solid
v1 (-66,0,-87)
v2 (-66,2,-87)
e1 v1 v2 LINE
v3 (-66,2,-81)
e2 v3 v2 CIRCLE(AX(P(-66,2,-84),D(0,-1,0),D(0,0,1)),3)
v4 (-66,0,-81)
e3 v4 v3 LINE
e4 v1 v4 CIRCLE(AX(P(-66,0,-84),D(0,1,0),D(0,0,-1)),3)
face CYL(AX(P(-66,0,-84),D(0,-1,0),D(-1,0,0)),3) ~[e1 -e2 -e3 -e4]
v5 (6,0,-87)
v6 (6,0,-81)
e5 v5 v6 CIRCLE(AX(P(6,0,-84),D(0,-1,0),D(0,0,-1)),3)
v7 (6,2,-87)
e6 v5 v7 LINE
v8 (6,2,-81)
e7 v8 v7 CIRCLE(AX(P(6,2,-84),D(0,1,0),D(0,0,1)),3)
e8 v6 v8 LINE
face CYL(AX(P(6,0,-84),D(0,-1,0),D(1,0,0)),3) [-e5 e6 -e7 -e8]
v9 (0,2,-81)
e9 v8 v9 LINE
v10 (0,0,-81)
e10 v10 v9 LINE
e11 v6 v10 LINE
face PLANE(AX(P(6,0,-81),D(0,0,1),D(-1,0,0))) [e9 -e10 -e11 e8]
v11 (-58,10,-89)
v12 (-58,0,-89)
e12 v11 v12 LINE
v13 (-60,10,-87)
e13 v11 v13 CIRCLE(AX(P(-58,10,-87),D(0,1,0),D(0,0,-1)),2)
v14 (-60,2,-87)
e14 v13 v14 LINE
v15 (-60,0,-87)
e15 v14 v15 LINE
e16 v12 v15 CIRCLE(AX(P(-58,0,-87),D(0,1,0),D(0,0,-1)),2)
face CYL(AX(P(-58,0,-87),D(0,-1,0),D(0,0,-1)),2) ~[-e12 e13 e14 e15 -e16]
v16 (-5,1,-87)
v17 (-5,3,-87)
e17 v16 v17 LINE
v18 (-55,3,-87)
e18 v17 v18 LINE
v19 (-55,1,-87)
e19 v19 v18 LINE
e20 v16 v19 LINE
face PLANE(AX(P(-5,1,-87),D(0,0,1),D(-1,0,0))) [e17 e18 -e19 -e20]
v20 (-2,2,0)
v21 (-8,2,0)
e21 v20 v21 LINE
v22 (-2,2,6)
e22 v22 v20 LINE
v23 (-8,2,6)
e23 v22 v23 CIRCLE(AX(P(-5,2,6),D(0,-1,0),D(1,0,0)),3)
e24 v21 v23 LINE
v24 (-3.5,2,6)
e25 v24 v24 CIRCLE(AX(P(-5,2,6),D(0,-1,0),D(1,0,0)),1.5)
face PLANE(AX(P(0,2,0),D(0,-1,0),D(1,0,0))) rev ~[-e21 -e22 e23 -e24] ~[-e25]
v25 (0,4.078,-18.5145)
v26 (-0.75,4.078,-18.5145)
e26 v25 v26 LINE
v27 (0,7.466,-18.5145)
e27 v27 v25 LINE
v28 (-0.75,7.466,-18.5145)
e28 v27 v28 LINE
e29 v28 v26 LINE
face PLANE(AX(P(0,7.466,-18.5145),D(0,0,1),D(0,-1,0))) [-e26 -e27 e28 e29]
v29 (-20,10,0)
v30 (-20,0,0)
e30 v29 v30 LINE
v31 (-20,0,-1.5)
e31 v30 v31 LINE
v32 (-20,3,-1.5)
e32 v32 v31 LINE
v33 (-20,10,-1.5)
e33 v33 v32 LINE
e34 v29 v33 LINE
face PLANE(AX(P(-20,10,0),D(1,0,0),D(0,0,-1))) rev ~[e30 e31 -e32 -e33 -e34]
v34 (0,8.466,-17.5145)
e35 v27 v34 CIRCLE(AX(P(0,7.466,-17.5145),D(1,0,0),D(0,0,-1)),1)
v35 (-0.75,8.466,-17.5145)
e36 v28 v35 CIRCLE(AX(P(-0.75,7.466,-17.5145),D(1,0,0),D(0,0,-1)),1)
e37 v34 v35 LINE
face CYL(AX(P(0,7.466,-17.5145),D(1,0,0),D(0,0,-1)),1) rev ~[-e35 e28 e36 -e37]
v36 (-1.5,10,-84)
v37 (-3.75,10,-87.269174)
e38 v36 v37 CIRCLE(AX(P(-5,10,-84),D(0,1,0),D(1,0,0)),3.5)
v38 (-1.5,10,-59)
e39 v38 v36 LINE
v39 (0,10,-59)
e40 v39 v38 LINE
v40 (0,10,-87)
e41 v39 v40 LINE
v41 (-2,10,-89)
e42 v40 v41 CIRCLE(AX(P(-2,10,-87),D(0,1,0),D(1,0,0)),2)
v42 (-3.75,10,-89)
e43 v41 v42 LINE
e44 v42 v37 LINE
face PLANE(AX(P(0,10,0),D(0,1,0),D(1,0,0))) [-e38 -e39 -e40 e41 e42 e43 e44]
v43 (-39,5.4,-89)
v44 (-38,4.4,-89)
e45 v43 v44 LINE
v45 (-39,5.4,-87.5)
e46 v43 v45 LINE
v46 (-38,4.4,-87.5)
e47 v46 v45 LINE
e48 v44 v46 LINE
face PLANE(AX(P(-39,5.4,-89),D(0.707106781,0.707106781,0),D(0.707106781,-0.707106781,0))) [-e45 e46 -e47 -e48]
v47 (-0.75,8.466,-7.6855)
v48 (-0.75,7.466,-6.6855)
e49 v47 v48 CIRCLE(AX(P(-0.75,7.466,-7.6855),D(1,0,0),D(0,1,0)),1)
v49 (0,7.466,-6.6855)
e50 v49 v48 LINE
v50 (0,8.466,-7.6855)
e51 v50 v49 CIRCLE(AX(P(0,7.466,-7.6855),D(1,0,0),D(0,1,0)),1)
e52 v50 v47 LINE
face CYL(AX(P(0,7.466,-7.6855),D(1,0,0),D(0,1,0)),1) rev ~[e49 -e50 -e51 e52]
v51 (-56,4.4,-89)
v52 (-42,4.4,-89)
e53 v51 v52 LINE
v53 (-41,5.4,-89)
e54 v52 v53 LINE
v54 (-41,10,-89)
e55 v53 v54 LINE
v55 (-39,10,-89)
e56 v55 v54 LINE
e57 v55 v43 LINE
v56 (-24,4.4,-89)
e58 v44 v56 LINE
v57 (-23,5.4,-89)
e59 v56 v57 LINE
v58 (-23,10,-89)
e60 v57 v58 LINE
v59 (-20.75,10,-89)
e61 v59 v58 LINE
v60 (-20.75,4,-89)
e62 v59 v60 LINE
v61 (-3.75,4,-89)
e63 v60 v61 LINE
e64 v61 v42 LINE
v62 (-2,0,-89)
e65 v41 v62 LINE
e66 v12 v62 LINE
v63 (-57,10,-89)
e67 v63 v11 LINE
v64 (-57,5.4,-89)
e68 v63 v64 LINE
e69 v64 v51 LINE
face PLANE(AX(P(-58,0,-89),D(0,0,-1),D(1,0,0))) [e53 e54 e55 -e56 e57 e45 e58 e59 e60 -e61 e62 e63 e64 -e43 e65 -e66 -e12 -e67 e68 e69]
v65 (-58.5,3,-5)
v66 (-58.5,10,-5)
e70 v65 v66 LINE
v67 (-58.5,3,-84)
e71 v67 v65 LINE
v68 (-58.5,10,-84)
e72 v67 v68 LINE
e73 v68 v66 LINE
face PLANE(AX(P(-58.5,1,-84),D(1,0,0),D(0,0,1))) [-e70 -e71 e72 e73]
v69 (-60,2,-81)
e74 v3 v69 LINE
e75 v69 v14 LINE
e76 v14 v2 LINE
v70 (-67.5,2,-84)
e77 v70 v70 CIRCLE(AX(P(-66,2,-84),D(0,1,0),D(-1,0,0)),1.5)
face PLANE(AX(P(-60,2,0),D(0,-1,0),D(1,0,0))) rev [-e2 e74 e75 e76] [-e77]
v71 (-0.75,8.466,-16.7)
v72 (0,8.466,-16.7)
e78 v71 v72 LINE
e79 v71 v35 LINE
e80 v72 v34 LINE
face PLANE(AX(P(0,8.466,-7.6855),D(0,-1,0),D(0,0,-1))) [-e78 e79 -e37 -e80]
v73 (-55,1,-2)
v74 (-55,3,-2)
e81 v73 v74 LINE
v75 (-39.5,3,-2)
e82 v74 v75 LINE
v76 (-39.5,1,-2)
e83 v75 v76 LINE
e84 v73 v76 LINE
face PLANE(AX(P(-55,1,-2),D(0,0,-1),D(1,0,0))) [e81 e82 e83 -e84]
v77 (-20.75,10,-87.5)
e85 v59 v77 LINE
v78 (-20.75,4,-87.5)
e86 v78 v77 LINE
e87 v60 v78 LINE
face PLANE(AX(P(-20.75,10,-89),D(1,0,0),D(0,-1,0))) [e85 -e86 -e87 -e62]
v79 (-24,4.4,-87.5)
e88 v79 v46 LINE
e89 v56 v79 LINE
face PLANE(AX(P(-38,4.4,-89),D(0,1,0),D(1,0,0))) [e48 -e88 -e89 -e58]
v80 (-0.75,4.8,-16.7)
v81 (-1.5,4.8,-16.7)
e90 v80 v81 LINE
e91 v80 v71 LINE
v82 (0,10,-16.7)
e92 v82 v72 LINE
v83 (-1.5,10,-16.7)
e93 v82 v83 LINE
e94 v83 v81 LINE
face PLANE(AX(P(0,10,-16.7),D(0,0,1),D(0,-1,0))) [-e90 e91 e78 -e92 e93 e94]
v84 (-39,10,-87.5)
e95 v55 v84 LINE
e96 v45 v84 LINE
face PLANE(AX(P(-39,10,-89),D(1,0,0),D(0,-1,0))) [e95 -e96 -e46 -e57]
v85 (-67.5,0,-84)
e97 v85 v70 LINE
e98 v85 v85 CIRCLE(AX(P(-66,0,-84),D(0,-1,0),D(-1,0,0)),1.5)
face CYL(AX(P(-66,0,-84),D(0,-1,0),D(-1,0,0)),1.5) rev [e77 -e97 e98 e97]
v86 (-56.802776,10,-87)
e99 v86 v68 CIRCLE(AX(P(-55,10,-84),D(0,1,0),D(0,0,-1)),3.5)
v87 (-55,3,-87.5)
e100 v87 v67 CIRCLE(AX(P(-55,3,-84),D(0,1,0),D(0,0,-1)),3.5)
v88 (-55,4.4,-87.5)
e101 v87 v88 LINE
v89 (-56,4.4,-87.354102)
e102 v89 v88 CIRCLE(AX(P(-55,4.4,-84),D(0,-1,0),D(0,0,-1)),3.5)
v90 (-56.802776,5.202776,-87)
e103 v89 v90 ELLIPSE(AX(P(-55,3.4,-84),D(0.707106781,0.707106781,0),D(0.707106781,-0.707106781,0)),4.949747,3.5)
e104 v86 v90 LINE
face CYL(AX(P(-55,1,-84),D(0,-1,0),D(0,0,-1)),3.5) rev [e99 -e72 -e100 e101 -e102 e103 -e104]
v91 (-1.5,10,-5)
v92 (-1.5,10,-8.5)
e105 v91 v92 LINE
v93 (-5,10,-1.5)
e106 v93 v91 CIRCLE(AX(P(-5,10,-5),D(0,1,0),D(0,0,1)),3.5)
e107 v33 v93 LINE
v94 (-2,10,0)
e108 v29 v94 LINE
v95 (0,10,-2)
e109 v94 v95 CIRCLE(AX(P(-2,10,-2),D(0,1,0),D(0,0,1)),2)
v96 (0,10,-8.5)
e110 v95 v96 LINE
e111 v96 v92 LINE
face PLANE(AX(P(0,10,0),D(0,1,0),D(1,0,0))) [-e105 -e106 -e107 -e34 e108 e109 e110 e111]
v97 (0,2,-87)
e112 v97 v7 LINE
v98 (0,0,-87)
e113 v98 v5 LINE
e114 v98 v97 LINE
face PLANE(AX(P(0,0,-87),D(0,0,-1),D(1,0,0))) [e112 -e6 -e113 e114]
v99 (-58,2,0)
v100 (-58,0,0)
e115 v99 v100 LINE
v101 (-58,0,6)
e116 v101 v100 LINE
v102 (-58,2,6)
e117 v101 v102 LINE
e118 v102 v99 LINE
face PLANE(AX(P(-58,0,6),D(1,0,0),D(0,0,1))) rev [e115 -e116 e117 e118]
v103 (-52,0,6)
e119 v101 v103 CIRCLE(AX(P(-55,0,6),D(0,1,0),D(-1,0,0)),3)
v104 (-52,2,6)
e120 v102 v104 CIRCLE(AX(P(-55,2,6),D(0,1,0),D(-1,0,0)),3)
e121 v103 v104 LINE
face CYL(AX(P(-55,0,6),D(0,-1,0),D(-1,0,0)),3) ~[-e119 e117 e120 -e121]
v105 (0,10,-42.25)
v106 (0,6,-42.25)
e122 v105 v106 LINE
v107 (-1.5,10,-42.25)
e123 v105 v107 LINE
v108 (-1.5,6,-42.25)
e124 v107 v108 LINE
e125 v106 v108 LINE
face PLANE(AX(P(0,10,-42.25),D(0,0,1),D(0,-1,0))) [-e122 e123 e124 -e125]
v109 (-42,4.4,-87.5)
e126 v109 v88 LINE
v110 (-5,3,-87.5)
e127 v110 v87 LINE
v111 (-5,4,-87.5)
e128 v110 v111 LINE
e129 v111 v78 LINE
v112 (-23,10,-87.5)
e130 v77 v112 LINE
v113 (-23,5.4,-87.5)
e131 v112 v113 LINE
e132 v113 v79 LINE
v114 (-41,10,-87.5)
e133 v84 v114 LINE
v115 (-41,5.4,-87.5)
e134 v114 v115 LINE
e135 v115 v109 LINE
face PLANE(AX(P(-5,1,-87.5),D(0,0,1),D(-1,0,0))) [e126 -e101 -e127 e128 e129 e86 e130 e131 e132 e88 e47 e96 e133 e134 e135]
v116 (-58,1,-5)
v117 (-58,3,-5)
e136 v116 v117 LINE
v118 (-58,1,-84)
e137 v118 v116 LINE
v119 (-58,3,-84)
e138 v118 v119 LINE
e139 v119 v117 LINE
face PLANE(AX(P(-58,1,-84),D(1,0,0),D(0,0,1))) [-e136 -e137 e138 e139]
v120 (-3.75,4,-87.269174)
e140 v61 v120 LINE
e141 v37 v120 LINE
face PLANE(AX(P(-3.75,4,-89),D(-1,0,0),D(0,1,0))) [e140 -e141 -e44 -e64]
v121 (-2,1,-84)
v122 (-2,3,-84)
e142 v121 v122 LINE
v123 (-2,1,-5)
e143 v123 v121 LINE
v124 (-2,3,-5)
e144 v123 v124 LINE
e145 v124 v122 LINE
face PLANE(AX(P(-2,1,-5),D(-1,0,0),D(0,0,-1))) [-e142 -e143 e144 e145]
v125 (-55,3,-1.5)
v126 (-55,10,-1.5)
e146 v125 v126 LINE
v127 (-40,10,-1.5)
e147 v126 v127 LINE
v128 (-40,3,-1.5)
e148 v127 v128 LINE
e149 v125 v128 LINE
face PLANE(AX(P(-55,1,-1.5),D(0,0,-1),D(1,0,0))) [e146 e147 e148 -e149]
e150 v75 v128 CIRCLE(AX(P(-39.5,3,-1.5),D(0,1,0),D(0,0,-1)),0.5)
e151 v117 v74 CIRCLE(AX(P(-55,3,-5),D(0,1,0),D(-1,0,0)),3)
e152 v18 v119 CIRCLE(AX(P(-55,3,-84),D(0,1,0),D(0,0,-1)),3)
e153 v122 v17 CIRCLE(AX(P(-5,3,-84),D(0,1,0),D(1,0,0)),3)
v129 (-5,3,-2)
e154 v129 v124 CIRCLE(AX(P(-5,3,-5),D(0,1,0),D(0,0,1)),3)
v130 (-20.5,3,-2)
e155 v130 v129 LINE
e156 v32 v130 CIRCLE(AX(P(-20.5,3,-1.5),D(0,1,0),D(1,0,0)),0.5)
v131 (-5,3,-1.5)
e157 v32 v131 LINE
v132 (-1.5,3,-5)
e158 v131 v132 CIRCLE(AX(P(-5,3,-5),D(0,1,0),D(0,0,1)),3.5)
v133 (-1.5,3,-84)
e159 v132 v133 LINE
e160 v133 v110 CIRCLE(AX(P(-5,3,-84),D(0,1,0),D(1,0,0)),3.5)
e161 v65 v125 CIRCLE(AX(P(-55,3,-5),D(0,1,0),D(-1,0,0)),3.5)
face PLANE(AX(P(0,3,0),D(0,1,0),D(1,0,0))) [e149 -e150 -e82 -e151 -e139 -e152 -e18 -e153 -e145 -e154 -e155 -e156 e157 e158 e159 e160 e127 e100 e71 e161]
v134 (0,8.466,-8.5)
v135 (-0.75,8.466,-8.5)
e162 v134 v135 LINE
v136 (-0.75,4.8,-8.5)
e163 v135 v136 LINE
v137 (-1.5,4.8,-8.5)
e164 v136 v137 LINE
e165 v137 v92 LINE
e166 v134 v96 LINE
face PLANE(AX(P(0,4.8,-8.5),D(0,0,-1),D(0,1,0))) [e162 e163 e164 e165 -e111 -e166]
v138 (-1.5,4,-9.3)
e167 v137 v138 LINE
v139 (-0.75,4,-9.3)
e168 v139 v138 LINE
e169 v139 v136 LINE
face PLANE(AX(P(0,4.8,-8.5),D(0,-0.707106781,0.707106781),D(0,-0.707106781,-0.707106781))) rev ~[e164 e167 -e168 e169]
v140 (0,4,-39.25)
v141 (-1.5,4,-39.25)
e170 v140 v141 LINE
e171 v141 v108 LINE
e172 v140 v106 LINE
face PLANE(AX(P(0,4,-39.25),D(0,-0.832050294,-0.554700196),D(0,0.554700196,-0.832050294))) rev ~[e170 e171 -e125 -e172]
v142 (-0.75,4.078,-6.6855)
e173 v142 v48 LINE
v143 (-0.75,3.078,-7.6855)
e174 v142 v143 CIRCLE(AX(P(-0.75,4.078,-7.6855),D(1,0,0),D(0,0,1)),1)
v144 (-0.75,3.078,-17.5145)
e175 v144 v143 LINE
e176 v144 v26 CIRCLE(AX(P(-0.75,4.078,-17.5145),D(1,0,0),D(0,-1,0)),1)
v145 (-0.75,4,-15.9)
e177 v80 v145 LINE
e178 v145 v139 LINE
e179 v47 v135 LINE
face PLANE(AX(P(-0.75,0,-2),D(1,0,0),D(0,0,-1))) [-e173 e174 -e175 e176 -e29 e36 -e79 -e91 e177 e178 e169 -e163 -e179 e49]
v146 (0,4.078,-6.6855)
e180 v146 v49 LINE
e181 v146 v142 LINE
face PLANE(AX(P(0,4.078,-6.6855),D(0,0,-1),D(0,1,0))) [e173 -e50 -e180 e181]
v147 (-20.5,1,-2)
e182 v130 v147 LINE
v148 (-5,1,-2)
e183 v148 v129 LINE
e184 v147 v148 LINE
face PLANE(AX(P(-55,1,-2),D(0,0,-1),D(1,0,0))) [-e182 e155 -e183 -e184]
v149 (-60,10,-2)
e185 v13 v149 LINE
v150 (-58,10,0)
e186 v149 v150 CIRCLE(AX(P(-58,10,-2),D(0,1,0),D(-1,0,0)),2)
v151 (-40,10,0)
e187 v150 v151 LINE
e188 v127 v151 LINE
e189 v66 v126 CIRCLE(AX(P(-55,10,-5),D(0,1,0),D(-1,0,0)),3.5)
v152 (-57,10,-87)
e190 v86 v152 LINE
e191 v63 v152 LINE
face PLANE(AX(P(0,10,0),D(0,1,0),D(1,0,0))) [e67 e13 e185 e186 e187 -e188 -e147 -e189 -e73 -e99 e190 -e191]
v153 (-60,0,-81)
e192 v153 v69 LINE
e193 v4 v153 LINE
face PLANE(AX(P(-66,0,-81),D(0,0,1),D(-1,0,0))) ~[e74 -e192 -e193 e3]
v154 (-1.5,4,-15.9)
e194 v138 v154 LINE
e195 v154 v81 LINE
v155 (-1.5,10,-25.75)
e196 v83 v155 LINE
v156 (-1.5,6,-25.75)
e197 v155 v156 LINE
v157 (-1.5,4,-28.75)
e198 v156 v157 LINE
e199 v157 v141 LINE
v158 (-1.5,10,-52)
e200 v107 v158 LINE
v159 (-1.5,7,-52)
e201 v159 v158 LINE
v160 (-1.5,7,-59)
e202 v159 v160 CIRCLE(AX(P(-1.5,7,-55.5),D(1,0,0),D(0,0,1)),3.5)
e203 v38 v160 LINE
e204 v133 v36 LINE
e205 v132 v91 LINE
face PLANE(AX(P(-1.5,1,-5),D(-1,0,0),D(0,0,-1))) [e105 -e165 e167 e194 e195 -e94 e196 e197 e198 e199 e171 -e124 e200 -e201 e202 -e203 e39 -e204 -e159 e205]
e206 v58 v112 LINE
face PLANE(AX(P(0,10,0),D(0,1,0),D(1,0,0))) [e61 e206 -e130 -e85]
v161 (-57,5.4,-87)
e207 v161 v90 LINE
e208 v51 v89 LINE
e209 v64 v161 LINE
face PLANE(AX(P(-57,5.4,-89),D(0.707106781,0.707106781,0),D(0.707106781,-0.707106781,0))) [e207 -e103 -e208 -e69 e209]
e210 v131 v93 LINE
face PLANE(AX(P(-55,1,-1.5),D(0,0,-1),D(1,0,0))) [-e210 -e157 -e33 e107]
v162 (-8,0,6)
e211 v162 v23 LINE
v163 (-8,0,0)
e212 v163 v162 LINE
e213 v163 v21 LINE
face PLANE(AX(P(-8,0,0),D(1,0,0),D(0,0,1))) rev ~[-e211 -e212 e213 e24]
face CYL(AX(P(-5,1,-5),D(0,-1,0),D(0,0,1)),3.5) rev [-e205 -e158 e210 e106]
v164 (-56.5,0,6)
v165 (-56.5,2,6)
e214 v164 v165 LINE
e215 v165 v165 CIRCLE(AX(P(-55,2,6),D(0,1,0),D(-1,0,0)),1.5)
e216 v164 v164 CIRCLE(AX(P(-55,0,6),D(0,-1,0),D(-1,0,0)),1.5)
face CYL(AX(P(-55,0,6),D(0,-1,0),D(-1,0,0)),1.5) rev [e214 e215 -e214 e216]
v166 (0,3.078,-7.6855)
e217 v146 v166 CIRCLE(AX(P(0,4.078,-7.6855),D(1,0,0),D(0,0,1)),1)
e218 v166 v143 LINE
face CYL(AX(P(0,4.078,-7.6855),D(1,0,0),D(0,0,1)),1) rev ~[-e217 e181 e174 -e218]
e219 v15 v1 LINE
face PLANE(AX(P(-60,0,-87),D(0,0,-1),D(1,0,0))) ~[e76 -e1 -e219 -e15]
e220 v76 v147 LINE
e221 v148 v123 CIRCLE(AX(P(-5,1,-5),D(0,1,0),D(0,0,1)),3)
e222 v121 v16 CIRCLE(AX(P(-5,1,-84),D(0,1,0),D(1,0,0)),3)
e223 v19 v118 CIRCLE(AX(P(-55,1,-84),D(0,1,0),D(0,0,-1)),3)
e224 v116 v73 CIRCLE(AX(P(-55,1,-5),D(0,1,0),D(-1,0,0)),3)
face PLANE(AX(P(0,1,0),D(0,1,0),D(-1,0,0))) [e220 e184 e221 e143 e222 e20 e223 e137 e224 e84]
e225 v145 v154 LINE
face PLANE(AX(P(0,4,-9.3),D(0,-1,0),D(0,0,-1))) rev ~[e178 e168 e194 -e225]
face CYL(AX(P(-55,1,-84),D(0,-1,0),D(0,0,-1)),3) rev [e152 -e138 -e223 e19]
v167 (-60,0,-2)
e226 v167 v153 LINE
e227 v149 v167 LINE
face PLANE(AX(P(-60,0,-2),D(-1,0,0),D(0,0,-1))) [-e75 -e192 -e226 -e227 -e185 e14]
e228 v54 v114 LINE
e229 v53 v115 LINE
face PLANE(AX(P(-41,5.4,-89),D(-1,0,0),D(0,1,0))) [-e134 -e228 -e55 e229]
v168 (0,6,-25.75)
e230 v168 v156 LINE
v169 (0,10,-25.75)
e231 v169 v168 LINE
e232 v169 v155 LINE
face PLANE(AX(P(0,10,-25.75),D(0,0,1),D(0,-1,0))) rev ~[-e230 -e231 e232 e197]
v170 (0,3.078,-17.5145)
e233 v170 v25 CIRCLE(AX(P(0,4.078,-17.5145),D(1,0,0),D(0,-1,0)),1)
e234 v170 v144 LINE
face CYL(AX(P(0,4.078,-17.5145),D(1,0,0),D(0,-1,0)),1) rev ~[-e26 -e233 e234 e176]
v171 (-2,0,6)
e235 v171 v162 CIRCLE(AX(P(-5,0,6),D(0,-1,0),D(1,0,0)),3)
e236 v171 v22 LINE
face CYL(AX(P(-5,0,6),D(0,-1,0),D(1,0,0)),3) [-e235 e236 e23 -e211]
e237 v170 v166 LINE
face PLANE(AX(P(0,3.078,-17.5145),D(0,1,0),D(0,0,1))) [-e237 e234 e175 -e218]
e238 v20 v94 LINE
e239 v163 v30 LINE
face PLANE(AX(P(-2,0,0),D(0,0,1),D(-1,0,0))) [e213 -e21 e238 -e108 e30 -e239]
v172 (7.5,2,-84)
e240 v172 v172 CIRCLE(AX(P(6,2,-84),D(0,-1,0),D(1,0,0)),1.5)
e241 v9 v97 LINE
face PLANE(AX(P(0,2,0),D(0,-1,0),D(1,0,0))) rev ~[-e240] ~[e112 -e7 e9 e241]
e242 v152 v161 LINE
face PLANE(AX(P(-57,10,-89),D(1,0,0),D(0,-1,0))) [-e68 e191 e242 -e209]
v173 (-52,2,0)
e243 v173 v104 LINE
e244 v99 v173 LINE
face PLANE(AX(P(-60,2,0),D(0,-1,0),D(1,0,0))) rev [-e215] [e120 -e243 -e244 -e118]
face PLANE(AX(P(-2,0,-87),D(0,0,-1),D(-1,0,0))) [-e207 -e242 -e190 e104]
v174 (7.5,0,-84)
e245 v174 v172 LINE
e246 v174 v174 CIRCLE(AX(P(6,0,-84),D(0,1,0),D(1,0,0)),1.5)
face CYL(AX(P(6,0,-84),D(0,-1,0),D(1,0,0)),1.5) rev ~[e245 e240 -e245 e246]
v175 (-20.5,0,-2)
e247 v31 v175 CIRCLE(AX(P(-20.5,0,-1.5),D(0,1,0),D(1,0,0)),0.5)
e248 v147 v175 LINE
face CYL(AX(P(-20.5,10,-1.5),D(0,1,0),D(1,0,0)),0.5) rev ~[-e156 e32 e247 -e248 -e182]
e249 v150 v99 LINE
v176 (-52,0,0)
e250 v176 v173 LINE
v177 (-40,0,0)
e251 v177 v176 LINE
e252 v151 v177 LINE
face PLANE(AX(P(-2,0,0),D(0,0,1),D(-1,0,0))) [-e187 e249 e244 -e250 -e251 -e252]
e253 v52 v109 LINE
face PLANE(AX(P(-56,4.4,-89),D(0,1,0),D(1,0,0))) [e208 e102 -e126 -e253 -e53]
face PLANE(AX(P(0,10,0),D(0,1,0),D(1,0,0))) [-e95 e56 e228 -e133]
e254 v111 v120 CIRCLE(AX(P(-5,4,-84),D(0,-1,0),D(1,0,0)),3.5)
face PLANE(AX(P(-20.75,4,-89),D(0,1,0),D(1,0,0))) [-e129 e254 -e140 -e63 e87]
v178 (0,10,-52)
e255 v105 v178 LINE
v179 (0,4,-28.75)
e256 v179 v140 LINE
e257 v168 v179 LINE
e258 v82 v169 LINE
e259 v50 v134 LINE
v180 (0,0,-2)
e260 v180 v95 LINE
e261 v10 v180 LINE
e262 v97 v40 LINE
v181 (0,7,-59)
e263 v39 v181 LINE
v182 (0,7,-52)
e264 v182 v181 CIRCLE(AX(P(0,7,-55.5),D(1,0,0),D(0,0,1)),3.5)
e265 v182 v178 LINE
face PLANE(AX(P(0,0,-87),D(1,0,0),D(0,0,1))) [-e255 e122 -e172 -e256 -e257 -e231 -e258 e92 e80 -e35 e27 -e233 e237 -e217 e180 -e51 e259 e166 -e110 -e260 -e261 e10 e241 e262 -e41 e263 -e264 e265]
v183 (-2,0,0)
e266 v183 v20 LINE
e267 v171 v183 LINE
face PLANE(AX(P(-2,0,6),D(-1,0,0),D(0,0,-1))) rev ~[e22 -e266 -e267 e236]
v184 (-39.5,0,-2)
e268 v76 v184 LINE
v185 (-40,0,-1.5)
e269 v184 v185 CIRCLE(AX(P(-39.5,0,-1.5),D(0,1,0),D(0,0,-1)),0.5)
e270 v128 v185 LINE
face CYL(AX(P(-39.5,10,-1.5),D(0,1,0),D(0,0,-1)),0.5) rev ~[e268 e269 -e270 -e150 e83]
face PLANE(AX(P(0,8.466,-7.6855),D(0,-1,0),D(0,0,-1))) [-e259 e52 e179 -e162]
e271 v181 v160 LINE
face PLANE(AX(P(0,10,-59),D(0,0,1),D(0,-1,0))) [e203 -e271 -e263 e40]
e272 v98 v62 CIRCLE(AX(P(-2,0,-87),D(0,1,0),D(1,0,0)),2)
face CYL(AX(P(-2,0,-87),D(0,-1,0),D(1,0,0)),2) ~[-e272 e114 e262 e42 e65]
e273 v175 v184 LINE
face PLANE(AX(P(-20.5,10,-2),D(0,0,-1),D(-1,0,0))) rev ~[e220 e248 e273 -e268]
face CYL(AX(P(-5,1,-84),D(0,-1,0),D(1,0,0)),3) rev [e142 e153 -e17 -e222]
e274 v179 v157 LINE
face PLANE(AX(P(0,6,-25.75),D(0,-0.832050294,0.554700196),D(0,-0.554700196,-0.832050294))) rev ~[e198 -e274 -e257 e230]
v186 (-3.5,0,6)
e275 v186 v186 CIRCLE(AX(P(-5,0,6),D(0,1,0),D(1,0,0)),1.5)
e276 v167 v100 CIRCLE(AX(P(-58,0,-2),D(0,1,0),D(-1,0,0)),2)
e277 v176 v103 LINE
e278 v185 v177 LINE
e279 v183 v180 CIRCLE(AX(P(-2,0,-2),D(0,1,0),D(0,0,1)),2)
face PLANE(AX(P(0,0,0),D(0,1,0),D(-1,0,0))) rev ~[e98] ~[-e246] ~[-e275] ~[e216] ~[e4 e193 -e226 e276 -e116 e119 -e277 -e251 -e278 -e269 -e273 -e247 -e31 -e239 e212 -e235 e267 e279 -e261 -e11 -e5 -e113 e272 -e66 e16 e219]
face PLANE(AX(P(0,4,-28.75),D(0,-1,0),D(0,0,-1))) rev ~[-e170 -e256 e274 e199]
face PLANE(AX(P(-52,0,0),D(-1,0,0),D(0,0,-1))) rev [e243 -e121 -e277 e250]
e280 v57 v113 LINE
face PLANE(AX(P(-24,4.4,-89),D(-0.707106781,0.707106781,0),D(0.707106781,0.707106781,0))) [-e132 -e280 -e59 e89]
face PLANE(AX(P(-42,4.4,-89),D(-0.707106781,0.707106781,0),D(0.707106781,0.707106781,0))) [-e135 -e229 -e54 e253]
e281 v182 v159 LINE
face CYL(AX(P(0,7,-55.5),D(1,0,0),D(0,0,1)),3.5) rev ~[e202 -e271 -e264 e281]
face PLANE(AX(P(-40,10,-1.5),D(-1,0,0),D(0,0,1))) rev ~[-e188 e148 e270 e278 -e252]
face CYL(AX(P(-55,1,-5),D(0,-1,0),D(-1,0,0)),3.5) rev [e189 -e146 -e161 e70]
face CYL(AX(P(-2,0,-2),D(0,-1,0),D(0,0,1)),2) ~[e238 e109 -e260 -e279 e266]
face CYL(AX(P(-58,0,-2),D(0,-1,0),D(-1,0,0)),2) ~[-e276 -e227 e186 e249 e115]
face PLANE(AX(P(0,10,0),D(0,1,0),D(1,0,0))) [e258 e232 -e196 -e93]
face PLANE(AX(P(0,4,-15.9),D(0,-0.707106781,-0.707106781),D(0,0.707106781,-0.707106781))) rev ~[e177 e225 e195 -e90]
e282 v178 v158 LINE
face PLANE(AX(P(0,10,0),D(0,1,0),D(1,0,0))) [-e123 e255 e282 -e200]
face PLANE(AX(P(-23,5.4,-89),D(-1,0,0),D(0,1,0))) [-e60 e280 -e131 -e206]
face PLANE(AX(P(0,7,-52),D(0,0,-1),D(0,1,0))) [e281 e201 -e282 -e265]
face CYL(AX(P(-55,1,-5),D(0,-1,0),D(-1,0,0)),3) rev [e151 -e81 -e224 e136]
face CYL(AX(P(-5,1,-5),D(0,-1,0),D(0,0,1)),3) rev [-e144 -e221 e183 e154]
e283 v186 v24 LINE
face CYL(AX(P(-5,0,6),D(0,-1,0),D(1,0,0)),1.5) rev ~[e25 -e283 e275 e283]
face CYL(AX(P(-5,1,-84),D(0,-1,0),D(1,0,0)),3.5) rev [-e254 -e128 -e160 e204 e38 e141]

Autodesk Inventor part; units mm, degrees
ref_plane "YZ Plane" through (0, 0, 0) normal (1, 0, 0) x (0, 1, 0)
ref_plane "XZ Plane" through (0, 0, 0) normal (0, 1, 0) x (-1, 0, 0)
sketch "Sketch1" plane through (0, 0, 0) normal (0, 1, 0) x (-1, 0, 0)
  line L0 (2, 0) -> (58, 0)
  line L1 (60, -2) -> (60, -87)
  line L2 (58, -89) -> (2, -89)
  line L3 (0, -87) -> (0, -2)
  arc A0 (60, -2) -> (58, 0) centre (58, -2) ccw
  arc A1 (2, 0) -> (0, -2) centre (2, -2) ccw
  arc A2 (58, -89) -> (60, -87) centre (58, -87) ccw
  arc A3 (0, -87) -> (2, -89) centre (2, -87) ccw
  point P0 (0, 0)
  point P1 (60, 0)
  point P2 (0, -89)
  dimension "d0" = 89
  dimension "d1" = 60
  dimension "d2" = 2
extrude "Extrusion1" add sketch "Sketch1" along normal blind 1
sketch "Sketch2" plane through (0, 1, 0) normal (0, 1, 0) x (1, 0, 0)
  line L0 (-60, 87) -> (-60, 2) projected
  line L1 (-58, 0) -> (-2, 0) projected
  line L2 (0, 2) -> (0, 87) projected
  line L3 (-2, 89) -> (-58, 89) projected
  line L4 (-2, 0) -> (-58, 0)
  line L5 (-60, 2) -> (-60, 87)
  line L6 (-58, 89) -> (-2, 89)
  line L7 (0, 87) -> (0, 2)
  arc A0 (-58, 89) -> (-60, 87) centre (-58, 87) ccw
  arc A1 (-60, 2) -> (-58, 0) centre (-58, 2) ccw
  arc A2 (-2, 0) -> (0, 2) centre (-2, 2) ccw
  arc A3 (0, 87) -> (-2, 89) centre (-2, 87) ccw
  line L8 (-55, 1.5) -> (-5, 1.5)
  line L9 (-1.5, 5) -> (-1.5, 84)
  line L10 (-5, 87.5) -> (-55, 87.5)
  line L11 (-58.5, 84) -> (-58.5, 5)
  arc A4 (-5, 1.5) -> (-1.5, 5) centre (-5, 5) ccw
  arc A5 (-58.5, 5) -> (-55, 1.5) centre (-55, 5) ccw
  arc A6 (-55, 87.5) -> (-58.5, 84) centre (-55, 84) ccw
  arc A7 (-1.5, 84) -> (-5, 87.5) centre (-5, 84) ccw
  point P0 (0, 0)
  point P1 (-60, 89)
  point P2 (-30, 89)
  point P3 (-2, 0)
  dimension "d5" = 2
  dimension "d6" = 1.5
  dimension "d7" = 1.5
  dimension "d8" = 1.5
  dimension "d9" = 1.5
  dimension "d10" = 3.5
extrude "Extrusion2" add sketch "Sketch2" along normal blind 9
sketch "Sketch4" plane through (0, 1, 0) normal (0, 1, 0) x (1, 0, 0)
  line L0 (-55, 1.5) -> (-5, 1.5)
  line L1 (-1.5, 5) -> (-1.5, 84)
  line L2 (-5, 87.5) -> (-55, 87.5)
  line L3 (-58.5, 84) -> (-58.5, 5)
  line L4 (-58.5, 5) -> (-58.5, 84) projected
  line L5 (-5, 1.5) -> (-55, 1.5) projected
  line L6 (-1.5, 84) -> (-1.5, 5) projected
  line L7 (-55, 87.5) -> (-5, 87.5) projected
  arc A0 (-55, 87.5) -> (-58.5, 84) centre (-55, 84) ccw
  arc A1 (-58.5, 5) -> (-55, 1.5) centre (-55, 5) ccw
  arc A2 (-5, 1.5) -> (-1.5, 5) centre (-5, 5) ccw
  arc A3 (-1.5, 84) -> (-5, 87.5) centre (-5, 84) ccw
  line L8 (-55, 2) -> (-5, 2)
  line L9 (-2, 5) -> (-2, 84)
  line L10 (-5, 87) -> (-55, 87)
  line L11 (-58, 84) -> (-58, 5)
  arc A4 (-58, 5) -> (-55, 2) centre (-55, 5) ccw
  arc A5 (-5, 2) -> (-2, 5) centre (-5, 5) ccw
  arc A6 (-2, 84) -> (-5, 87) centre (-5, 84) ccw
  arc A7 (-55, 87) -> (-58, 84) centre (-55, 84) ccw
  point P0 (0, 0)
  dimension "d13" = 3.5
  dimension "d14" = 0.5
  dimension "d15" = 0.5
  dimension "d16" = 0.5
  dimension "d17" = 0.5
  dimension "d18" = 3
  dimension "d19" = 3
extrude "Extrusion3" add sketch "Sketch4" along normal blind 2
sketch "Sketch5" plane through (0, 10, 0) normal (0, 1, 0) x (1, 0, 0)
  line L0 (-40, 0) -> (-20, 0)
  line L1 (-20, 0) -> (-20, 1.5)
  line L2 (-20.5, 2) -> (-39.5, 2)
  line L3 (-40, 1.5) -> (-40, 0)
  arc A0 (-39.5, 2) -> (-40, 1.5) centre (-39.5, 1.5) ccw
  arc A1 (-20, 1.5) -> (-20.5, 2) centre (-20.5, 1.5) ccw
  line L4 (-30, 0) -> (-30, 2) construction
  line L5 (-58, 0) -> (-2, 0) construction
  line L6 (-30, 0) -> (-30, 1.5) construction
  line L7 (-5, 1.5) -> (-55, 1.5) construction
  line L8 (-58, 0) -> (-2, 0) construction
  point P0 (0, 0)
  point P1 (-40, 2)
  dimension "d22" = 2
  dimension "d23" = 20
  dimension "d24" = 0.5
extrude "Extrusion4" cut sketch "Sketch5" against normal up to surface (10 mm away)
sketch "Sketch6" plane through (0, 0, -2) normal (1, 0, 0) x (0, 0, -1)
  line L0 (23.75, 10) -> (40.25, 10)
  line L1 (40.25, 10) -> (40.25, 6)
  line L2 (3, 3) -> (82, 3) projected
  line L3 (23.75, 10) -> (23.75, 6)
  line L4 (23.75, 6) -> (26.75, 4)
  line L5 (26.75, 4) -> (37.25, 4)
  line L6 (37.25, 4) -> (40.25, 6)
  line L7 (32, 10) -> (32, 4) construction
  line L8 (0, 10) -> (85, 10) construction
  line L9 (-2, 0) -> (-2, 10) construction
  dimension "d27" = 16.5
  dimension "d28" = 4
  dimension "d29" = 10.5
  dimension "d30" = 6
  dimension "d31" = 25.75
extrude "Extrusion5" cut sketch "Sketch6" against normal up to surface (1.5 mm away)
sketch "Sketch7" plane through (0, 0, -2) normal (1, 0, 0) x (0, 0, -1)
  line L0 (50, 10) -> (57, 10)
  line L1 (57, 10) -> (57, 7)
  line L2 (57, 7) -> (50, 7)
  line L3 (50, 7) -> (50, 10)
  line L4 (40.25, 10) -> (85, 10) projected
  arc A0 (50, 7) -> (57, 7) centre (53.5, 7) ccw
  line L5 (40.25, 10) -> (40.25, 6) projected
  point P0 (-2, 0)
  dimension "d34" = 7
  dimension "d35" = 3
  dimension "d36" = 9.75
extrude "Extrusion6" cut sketch "Sketch7" against normal up to surface (1.5 mm away)
sketch "Sketch8" plane through (0, 0, -2) normal (1, 0, 0) x (0, 0, -1)
  line L0 (6.5, 10) -> (14.7, 10)
  line L1 (14.7, 10) -> (14.7, 4.8)
  line L2 (14.7, 4.8) -> (6.5, 4.8)
  line L3 (6.5, 4.8) -> (6.5, 10)
  line L4 (6.5, 4.8) -> (7.3, 4)
  line L5 (7.3, 4) -> (13.9, 4)
  line L6 (13.9, 4) -> (14.7, 4.8)
  line L7 (0, 10) -> (23.75, 10) projected
  line L8 (23.75, 6) -> (23.75, 10) projected
  point P0 (-2, 0)
  point P1 (10.6, 4)
  dimension "d39" = 8.2
  dimension "d40" = 5.2
  dimension "d41" = 6.6
  dimension "d42" = 6
  dimension "d43" = 9.05
extrude "Extrusion7" cut sketch "Sketch8" against normal up to surface (1.5 mm away)
sketch "Sketch9" plane through (0, 0, -2) normal (1, 0, 0) x (0, 0, -1)
  line L0 (5.6855, 8.466) -> (15.5145, 8.466)
  line L1 (16.5145, 7.466) -> (16.5145, 4.078)
  line L2 (15.5145, 3.078) -> (5.6855, 3.078)
  line L3 (4.6855, 4.078) -> (4.6855, 7.466)
  arc A0 (5.6855, 8.466) -> (4.6855, 7.466) centre (5.6855, 7.466) ccw
  arc A1 (4.6855, 4.078) -> (5.6855, 3.078) centre (5.6855, 4.078) ccw
  arc A2 (15.5145, 3.078) -> (16.5145, 4.078) centre (15.5145, 4.078) ccw
  arc A3 (16.5145, 7.466) -> (15.5145, 8.466) centre (15.5145, 7.466) ccw
  line L4 (13.9, 4) -> (7.3, 4) projected
  line L5 (16.5145, 5.772) -> (14.7, 5.772) construction
  line L6 (14.7, 4.8) -> (14.7, 10) construction
  line L7 (4.6855, 5.772) -> (6.5, 5.772) construction
  line L8 (6.5, 10) -> (6.5, 4.8) construction
  point P0 (-2, 0)
  dimension "d46" = 5.388
  dimension "d47" = 11.829
  dimension "d48" = 1
  dimension "d49" = 0.922
extrude "Extrusion8" cut sketch "Sketch9" against normal blind 0.75
sketch "Sketch10" plane through (-2, 0, -89) normal (0, 0, -1) x (-1, 0, 0)
  line L0 (1.75, 10) -> (18.75, 10)
  line L1 (18.75, 10) -> (18.75, 4)
  line L2 (18.75, 4) -> (1.75, 4)
  line L3 (1.75, 4) -> (1.75, 10)
  line L4 (0, 10) -> (56, 10) projected
  line L5 (-2, 0) -> (-2, 10) projected
  dimension "d52" = 17
  dimension "d53" = 6
  dimension "d54" = 3.75
extrude "Extrusion9" cut sketch "Sketch10" against normal blind 2
sketch "Sketch11" plane through (-2, 0, -89) normal (0, 0, -1) x (-1, 0, 0)
  line L0 (21, 10) -> (37, 10)
  line L1 (37, 10) -> (37, 5.4)
  line L2 (37, 5.4) -> (36, 4.4)
  line L3 (36, 4.4) -> (22, 4.4)
  line L4 (22, 4.4) -> (21, 5.4)
  line L5 (21, 5.4) -> (21, 10)
  line L6 (29, 10) -> (29, 4.4) construction
  line L7 (18.75, 10) -> (56, 10) construction
  line L8 (18.75, 10) -> (18.75, 4) construction
  line L9 (55, 10) -> (55, 5.4)
  line L10 (39, 10) -> (55, 10)
  line L11 (39, 5.4) -> (39, 10)
  line L12 (40, 4.4) -> (39, 5.4)
  line L13 (54, 4.4) -> (40, 4.4)
  line L14 (55, 5.4) -> (54, 4.4)
  line L15 (37, 20) -> (37, 15.4)
  line L16 (21, 20) -> (37, 20)
  line L17 (21, 15.4) -> (21, 20)
  line L18 (22, 14.4) -> (21, 15.4)
  line L19 (36, 14.4) -> (22, 14.4)
  line L20 (37, 15.4) -> (36, 14.4)
  line L21 (55, 20) -> (55, 15.4)
  line L22 (39, 20) -> (55, 20)
  line L23 (39, 15.4) -> (39, 20)
  line L24 (40, 14.4) -> (39, 15.4)
  line L25 (54, 14.4) -> (40, 14.4)
  line L26 (55, 15.4) -> (54, 14.4)
  point P0 (-2, 0)
  point P1 (47, 10)
  point P2 (47, 4.4)
  point P3 (29, 20)
  point P4 (29, 14.4)
  point P5 (47, 20)
  point P6 (47, 14.4)
  dimension "d57" = 16
  dimension "d58" = 14
  dimension "d59" = 4.6
  dimension "d60" = 5.6
  dimension "d61" = 2.25
  dimension "d64" = 18
  dimension "d67" = 10
extrude "Extrusion10" cut sketch "Sketch11" against normal blind 2 contours L0 L1 L2 L3 L4 L5 | L9 L14 L13 L12 L11 L10
sketch "Sketch12" plane through (0, 0, 0) normal (0, -1, 0) x (1, 0, 0)
  arc A0 (0, -2) -> (-2, 0) centre (-2, -2) ccw projected
  line L0 (-2, 0) -> (-8, 0)
  line L1 (-8, 0) -> (-8, 6)
  line L2 (-8, 6) -> (-2, 6)
  line L3 (-2, 6) -> (-2, 0)
  circle A1 centre (-5, 6) radius 3
  circle A2 centre (-5, 6) radius 1.5
  arc A3 (-2, -89) -> (0, -87) centre (-2, -87) ccw projected
  line L4 (0, -87) -> (6, -87)
  line L5 (6, -87) -> (6, -81)
  line L6 (6, -81) -> (0, -81)
  line L7 (0, -81) -> (0, -87)
  circle A4 centre (6, -84) radius 3
  circle A5 centre (6, -84) radius 1.5
  point P0 (0, 0)
  dimension "d72" = 6
  dimension "d75" = 6
  dimension "d73" = 6
  dimension "d74" = 3
  dimension "d76" = 6
  dimension "d77" = 3
extrude "Extrusion11" add sketch "Sketch12" against normal blind 2 contours L0 L1 A1 L3 | A1 L2 A2 | L2 A2 A1 | L7 L6 A4 L4 | A4 L5 A5 | L5 A5 A4
ref_plane "Work Plane1" through (-30, 0, -2) normal (1, 0, 0) x (0, 0, -1)
mirror "Mirror1" about plane through (-30, 0, -2) normal (1, 0, 0) of "Extrusion11"
properties part number "raspi_enclosure"
